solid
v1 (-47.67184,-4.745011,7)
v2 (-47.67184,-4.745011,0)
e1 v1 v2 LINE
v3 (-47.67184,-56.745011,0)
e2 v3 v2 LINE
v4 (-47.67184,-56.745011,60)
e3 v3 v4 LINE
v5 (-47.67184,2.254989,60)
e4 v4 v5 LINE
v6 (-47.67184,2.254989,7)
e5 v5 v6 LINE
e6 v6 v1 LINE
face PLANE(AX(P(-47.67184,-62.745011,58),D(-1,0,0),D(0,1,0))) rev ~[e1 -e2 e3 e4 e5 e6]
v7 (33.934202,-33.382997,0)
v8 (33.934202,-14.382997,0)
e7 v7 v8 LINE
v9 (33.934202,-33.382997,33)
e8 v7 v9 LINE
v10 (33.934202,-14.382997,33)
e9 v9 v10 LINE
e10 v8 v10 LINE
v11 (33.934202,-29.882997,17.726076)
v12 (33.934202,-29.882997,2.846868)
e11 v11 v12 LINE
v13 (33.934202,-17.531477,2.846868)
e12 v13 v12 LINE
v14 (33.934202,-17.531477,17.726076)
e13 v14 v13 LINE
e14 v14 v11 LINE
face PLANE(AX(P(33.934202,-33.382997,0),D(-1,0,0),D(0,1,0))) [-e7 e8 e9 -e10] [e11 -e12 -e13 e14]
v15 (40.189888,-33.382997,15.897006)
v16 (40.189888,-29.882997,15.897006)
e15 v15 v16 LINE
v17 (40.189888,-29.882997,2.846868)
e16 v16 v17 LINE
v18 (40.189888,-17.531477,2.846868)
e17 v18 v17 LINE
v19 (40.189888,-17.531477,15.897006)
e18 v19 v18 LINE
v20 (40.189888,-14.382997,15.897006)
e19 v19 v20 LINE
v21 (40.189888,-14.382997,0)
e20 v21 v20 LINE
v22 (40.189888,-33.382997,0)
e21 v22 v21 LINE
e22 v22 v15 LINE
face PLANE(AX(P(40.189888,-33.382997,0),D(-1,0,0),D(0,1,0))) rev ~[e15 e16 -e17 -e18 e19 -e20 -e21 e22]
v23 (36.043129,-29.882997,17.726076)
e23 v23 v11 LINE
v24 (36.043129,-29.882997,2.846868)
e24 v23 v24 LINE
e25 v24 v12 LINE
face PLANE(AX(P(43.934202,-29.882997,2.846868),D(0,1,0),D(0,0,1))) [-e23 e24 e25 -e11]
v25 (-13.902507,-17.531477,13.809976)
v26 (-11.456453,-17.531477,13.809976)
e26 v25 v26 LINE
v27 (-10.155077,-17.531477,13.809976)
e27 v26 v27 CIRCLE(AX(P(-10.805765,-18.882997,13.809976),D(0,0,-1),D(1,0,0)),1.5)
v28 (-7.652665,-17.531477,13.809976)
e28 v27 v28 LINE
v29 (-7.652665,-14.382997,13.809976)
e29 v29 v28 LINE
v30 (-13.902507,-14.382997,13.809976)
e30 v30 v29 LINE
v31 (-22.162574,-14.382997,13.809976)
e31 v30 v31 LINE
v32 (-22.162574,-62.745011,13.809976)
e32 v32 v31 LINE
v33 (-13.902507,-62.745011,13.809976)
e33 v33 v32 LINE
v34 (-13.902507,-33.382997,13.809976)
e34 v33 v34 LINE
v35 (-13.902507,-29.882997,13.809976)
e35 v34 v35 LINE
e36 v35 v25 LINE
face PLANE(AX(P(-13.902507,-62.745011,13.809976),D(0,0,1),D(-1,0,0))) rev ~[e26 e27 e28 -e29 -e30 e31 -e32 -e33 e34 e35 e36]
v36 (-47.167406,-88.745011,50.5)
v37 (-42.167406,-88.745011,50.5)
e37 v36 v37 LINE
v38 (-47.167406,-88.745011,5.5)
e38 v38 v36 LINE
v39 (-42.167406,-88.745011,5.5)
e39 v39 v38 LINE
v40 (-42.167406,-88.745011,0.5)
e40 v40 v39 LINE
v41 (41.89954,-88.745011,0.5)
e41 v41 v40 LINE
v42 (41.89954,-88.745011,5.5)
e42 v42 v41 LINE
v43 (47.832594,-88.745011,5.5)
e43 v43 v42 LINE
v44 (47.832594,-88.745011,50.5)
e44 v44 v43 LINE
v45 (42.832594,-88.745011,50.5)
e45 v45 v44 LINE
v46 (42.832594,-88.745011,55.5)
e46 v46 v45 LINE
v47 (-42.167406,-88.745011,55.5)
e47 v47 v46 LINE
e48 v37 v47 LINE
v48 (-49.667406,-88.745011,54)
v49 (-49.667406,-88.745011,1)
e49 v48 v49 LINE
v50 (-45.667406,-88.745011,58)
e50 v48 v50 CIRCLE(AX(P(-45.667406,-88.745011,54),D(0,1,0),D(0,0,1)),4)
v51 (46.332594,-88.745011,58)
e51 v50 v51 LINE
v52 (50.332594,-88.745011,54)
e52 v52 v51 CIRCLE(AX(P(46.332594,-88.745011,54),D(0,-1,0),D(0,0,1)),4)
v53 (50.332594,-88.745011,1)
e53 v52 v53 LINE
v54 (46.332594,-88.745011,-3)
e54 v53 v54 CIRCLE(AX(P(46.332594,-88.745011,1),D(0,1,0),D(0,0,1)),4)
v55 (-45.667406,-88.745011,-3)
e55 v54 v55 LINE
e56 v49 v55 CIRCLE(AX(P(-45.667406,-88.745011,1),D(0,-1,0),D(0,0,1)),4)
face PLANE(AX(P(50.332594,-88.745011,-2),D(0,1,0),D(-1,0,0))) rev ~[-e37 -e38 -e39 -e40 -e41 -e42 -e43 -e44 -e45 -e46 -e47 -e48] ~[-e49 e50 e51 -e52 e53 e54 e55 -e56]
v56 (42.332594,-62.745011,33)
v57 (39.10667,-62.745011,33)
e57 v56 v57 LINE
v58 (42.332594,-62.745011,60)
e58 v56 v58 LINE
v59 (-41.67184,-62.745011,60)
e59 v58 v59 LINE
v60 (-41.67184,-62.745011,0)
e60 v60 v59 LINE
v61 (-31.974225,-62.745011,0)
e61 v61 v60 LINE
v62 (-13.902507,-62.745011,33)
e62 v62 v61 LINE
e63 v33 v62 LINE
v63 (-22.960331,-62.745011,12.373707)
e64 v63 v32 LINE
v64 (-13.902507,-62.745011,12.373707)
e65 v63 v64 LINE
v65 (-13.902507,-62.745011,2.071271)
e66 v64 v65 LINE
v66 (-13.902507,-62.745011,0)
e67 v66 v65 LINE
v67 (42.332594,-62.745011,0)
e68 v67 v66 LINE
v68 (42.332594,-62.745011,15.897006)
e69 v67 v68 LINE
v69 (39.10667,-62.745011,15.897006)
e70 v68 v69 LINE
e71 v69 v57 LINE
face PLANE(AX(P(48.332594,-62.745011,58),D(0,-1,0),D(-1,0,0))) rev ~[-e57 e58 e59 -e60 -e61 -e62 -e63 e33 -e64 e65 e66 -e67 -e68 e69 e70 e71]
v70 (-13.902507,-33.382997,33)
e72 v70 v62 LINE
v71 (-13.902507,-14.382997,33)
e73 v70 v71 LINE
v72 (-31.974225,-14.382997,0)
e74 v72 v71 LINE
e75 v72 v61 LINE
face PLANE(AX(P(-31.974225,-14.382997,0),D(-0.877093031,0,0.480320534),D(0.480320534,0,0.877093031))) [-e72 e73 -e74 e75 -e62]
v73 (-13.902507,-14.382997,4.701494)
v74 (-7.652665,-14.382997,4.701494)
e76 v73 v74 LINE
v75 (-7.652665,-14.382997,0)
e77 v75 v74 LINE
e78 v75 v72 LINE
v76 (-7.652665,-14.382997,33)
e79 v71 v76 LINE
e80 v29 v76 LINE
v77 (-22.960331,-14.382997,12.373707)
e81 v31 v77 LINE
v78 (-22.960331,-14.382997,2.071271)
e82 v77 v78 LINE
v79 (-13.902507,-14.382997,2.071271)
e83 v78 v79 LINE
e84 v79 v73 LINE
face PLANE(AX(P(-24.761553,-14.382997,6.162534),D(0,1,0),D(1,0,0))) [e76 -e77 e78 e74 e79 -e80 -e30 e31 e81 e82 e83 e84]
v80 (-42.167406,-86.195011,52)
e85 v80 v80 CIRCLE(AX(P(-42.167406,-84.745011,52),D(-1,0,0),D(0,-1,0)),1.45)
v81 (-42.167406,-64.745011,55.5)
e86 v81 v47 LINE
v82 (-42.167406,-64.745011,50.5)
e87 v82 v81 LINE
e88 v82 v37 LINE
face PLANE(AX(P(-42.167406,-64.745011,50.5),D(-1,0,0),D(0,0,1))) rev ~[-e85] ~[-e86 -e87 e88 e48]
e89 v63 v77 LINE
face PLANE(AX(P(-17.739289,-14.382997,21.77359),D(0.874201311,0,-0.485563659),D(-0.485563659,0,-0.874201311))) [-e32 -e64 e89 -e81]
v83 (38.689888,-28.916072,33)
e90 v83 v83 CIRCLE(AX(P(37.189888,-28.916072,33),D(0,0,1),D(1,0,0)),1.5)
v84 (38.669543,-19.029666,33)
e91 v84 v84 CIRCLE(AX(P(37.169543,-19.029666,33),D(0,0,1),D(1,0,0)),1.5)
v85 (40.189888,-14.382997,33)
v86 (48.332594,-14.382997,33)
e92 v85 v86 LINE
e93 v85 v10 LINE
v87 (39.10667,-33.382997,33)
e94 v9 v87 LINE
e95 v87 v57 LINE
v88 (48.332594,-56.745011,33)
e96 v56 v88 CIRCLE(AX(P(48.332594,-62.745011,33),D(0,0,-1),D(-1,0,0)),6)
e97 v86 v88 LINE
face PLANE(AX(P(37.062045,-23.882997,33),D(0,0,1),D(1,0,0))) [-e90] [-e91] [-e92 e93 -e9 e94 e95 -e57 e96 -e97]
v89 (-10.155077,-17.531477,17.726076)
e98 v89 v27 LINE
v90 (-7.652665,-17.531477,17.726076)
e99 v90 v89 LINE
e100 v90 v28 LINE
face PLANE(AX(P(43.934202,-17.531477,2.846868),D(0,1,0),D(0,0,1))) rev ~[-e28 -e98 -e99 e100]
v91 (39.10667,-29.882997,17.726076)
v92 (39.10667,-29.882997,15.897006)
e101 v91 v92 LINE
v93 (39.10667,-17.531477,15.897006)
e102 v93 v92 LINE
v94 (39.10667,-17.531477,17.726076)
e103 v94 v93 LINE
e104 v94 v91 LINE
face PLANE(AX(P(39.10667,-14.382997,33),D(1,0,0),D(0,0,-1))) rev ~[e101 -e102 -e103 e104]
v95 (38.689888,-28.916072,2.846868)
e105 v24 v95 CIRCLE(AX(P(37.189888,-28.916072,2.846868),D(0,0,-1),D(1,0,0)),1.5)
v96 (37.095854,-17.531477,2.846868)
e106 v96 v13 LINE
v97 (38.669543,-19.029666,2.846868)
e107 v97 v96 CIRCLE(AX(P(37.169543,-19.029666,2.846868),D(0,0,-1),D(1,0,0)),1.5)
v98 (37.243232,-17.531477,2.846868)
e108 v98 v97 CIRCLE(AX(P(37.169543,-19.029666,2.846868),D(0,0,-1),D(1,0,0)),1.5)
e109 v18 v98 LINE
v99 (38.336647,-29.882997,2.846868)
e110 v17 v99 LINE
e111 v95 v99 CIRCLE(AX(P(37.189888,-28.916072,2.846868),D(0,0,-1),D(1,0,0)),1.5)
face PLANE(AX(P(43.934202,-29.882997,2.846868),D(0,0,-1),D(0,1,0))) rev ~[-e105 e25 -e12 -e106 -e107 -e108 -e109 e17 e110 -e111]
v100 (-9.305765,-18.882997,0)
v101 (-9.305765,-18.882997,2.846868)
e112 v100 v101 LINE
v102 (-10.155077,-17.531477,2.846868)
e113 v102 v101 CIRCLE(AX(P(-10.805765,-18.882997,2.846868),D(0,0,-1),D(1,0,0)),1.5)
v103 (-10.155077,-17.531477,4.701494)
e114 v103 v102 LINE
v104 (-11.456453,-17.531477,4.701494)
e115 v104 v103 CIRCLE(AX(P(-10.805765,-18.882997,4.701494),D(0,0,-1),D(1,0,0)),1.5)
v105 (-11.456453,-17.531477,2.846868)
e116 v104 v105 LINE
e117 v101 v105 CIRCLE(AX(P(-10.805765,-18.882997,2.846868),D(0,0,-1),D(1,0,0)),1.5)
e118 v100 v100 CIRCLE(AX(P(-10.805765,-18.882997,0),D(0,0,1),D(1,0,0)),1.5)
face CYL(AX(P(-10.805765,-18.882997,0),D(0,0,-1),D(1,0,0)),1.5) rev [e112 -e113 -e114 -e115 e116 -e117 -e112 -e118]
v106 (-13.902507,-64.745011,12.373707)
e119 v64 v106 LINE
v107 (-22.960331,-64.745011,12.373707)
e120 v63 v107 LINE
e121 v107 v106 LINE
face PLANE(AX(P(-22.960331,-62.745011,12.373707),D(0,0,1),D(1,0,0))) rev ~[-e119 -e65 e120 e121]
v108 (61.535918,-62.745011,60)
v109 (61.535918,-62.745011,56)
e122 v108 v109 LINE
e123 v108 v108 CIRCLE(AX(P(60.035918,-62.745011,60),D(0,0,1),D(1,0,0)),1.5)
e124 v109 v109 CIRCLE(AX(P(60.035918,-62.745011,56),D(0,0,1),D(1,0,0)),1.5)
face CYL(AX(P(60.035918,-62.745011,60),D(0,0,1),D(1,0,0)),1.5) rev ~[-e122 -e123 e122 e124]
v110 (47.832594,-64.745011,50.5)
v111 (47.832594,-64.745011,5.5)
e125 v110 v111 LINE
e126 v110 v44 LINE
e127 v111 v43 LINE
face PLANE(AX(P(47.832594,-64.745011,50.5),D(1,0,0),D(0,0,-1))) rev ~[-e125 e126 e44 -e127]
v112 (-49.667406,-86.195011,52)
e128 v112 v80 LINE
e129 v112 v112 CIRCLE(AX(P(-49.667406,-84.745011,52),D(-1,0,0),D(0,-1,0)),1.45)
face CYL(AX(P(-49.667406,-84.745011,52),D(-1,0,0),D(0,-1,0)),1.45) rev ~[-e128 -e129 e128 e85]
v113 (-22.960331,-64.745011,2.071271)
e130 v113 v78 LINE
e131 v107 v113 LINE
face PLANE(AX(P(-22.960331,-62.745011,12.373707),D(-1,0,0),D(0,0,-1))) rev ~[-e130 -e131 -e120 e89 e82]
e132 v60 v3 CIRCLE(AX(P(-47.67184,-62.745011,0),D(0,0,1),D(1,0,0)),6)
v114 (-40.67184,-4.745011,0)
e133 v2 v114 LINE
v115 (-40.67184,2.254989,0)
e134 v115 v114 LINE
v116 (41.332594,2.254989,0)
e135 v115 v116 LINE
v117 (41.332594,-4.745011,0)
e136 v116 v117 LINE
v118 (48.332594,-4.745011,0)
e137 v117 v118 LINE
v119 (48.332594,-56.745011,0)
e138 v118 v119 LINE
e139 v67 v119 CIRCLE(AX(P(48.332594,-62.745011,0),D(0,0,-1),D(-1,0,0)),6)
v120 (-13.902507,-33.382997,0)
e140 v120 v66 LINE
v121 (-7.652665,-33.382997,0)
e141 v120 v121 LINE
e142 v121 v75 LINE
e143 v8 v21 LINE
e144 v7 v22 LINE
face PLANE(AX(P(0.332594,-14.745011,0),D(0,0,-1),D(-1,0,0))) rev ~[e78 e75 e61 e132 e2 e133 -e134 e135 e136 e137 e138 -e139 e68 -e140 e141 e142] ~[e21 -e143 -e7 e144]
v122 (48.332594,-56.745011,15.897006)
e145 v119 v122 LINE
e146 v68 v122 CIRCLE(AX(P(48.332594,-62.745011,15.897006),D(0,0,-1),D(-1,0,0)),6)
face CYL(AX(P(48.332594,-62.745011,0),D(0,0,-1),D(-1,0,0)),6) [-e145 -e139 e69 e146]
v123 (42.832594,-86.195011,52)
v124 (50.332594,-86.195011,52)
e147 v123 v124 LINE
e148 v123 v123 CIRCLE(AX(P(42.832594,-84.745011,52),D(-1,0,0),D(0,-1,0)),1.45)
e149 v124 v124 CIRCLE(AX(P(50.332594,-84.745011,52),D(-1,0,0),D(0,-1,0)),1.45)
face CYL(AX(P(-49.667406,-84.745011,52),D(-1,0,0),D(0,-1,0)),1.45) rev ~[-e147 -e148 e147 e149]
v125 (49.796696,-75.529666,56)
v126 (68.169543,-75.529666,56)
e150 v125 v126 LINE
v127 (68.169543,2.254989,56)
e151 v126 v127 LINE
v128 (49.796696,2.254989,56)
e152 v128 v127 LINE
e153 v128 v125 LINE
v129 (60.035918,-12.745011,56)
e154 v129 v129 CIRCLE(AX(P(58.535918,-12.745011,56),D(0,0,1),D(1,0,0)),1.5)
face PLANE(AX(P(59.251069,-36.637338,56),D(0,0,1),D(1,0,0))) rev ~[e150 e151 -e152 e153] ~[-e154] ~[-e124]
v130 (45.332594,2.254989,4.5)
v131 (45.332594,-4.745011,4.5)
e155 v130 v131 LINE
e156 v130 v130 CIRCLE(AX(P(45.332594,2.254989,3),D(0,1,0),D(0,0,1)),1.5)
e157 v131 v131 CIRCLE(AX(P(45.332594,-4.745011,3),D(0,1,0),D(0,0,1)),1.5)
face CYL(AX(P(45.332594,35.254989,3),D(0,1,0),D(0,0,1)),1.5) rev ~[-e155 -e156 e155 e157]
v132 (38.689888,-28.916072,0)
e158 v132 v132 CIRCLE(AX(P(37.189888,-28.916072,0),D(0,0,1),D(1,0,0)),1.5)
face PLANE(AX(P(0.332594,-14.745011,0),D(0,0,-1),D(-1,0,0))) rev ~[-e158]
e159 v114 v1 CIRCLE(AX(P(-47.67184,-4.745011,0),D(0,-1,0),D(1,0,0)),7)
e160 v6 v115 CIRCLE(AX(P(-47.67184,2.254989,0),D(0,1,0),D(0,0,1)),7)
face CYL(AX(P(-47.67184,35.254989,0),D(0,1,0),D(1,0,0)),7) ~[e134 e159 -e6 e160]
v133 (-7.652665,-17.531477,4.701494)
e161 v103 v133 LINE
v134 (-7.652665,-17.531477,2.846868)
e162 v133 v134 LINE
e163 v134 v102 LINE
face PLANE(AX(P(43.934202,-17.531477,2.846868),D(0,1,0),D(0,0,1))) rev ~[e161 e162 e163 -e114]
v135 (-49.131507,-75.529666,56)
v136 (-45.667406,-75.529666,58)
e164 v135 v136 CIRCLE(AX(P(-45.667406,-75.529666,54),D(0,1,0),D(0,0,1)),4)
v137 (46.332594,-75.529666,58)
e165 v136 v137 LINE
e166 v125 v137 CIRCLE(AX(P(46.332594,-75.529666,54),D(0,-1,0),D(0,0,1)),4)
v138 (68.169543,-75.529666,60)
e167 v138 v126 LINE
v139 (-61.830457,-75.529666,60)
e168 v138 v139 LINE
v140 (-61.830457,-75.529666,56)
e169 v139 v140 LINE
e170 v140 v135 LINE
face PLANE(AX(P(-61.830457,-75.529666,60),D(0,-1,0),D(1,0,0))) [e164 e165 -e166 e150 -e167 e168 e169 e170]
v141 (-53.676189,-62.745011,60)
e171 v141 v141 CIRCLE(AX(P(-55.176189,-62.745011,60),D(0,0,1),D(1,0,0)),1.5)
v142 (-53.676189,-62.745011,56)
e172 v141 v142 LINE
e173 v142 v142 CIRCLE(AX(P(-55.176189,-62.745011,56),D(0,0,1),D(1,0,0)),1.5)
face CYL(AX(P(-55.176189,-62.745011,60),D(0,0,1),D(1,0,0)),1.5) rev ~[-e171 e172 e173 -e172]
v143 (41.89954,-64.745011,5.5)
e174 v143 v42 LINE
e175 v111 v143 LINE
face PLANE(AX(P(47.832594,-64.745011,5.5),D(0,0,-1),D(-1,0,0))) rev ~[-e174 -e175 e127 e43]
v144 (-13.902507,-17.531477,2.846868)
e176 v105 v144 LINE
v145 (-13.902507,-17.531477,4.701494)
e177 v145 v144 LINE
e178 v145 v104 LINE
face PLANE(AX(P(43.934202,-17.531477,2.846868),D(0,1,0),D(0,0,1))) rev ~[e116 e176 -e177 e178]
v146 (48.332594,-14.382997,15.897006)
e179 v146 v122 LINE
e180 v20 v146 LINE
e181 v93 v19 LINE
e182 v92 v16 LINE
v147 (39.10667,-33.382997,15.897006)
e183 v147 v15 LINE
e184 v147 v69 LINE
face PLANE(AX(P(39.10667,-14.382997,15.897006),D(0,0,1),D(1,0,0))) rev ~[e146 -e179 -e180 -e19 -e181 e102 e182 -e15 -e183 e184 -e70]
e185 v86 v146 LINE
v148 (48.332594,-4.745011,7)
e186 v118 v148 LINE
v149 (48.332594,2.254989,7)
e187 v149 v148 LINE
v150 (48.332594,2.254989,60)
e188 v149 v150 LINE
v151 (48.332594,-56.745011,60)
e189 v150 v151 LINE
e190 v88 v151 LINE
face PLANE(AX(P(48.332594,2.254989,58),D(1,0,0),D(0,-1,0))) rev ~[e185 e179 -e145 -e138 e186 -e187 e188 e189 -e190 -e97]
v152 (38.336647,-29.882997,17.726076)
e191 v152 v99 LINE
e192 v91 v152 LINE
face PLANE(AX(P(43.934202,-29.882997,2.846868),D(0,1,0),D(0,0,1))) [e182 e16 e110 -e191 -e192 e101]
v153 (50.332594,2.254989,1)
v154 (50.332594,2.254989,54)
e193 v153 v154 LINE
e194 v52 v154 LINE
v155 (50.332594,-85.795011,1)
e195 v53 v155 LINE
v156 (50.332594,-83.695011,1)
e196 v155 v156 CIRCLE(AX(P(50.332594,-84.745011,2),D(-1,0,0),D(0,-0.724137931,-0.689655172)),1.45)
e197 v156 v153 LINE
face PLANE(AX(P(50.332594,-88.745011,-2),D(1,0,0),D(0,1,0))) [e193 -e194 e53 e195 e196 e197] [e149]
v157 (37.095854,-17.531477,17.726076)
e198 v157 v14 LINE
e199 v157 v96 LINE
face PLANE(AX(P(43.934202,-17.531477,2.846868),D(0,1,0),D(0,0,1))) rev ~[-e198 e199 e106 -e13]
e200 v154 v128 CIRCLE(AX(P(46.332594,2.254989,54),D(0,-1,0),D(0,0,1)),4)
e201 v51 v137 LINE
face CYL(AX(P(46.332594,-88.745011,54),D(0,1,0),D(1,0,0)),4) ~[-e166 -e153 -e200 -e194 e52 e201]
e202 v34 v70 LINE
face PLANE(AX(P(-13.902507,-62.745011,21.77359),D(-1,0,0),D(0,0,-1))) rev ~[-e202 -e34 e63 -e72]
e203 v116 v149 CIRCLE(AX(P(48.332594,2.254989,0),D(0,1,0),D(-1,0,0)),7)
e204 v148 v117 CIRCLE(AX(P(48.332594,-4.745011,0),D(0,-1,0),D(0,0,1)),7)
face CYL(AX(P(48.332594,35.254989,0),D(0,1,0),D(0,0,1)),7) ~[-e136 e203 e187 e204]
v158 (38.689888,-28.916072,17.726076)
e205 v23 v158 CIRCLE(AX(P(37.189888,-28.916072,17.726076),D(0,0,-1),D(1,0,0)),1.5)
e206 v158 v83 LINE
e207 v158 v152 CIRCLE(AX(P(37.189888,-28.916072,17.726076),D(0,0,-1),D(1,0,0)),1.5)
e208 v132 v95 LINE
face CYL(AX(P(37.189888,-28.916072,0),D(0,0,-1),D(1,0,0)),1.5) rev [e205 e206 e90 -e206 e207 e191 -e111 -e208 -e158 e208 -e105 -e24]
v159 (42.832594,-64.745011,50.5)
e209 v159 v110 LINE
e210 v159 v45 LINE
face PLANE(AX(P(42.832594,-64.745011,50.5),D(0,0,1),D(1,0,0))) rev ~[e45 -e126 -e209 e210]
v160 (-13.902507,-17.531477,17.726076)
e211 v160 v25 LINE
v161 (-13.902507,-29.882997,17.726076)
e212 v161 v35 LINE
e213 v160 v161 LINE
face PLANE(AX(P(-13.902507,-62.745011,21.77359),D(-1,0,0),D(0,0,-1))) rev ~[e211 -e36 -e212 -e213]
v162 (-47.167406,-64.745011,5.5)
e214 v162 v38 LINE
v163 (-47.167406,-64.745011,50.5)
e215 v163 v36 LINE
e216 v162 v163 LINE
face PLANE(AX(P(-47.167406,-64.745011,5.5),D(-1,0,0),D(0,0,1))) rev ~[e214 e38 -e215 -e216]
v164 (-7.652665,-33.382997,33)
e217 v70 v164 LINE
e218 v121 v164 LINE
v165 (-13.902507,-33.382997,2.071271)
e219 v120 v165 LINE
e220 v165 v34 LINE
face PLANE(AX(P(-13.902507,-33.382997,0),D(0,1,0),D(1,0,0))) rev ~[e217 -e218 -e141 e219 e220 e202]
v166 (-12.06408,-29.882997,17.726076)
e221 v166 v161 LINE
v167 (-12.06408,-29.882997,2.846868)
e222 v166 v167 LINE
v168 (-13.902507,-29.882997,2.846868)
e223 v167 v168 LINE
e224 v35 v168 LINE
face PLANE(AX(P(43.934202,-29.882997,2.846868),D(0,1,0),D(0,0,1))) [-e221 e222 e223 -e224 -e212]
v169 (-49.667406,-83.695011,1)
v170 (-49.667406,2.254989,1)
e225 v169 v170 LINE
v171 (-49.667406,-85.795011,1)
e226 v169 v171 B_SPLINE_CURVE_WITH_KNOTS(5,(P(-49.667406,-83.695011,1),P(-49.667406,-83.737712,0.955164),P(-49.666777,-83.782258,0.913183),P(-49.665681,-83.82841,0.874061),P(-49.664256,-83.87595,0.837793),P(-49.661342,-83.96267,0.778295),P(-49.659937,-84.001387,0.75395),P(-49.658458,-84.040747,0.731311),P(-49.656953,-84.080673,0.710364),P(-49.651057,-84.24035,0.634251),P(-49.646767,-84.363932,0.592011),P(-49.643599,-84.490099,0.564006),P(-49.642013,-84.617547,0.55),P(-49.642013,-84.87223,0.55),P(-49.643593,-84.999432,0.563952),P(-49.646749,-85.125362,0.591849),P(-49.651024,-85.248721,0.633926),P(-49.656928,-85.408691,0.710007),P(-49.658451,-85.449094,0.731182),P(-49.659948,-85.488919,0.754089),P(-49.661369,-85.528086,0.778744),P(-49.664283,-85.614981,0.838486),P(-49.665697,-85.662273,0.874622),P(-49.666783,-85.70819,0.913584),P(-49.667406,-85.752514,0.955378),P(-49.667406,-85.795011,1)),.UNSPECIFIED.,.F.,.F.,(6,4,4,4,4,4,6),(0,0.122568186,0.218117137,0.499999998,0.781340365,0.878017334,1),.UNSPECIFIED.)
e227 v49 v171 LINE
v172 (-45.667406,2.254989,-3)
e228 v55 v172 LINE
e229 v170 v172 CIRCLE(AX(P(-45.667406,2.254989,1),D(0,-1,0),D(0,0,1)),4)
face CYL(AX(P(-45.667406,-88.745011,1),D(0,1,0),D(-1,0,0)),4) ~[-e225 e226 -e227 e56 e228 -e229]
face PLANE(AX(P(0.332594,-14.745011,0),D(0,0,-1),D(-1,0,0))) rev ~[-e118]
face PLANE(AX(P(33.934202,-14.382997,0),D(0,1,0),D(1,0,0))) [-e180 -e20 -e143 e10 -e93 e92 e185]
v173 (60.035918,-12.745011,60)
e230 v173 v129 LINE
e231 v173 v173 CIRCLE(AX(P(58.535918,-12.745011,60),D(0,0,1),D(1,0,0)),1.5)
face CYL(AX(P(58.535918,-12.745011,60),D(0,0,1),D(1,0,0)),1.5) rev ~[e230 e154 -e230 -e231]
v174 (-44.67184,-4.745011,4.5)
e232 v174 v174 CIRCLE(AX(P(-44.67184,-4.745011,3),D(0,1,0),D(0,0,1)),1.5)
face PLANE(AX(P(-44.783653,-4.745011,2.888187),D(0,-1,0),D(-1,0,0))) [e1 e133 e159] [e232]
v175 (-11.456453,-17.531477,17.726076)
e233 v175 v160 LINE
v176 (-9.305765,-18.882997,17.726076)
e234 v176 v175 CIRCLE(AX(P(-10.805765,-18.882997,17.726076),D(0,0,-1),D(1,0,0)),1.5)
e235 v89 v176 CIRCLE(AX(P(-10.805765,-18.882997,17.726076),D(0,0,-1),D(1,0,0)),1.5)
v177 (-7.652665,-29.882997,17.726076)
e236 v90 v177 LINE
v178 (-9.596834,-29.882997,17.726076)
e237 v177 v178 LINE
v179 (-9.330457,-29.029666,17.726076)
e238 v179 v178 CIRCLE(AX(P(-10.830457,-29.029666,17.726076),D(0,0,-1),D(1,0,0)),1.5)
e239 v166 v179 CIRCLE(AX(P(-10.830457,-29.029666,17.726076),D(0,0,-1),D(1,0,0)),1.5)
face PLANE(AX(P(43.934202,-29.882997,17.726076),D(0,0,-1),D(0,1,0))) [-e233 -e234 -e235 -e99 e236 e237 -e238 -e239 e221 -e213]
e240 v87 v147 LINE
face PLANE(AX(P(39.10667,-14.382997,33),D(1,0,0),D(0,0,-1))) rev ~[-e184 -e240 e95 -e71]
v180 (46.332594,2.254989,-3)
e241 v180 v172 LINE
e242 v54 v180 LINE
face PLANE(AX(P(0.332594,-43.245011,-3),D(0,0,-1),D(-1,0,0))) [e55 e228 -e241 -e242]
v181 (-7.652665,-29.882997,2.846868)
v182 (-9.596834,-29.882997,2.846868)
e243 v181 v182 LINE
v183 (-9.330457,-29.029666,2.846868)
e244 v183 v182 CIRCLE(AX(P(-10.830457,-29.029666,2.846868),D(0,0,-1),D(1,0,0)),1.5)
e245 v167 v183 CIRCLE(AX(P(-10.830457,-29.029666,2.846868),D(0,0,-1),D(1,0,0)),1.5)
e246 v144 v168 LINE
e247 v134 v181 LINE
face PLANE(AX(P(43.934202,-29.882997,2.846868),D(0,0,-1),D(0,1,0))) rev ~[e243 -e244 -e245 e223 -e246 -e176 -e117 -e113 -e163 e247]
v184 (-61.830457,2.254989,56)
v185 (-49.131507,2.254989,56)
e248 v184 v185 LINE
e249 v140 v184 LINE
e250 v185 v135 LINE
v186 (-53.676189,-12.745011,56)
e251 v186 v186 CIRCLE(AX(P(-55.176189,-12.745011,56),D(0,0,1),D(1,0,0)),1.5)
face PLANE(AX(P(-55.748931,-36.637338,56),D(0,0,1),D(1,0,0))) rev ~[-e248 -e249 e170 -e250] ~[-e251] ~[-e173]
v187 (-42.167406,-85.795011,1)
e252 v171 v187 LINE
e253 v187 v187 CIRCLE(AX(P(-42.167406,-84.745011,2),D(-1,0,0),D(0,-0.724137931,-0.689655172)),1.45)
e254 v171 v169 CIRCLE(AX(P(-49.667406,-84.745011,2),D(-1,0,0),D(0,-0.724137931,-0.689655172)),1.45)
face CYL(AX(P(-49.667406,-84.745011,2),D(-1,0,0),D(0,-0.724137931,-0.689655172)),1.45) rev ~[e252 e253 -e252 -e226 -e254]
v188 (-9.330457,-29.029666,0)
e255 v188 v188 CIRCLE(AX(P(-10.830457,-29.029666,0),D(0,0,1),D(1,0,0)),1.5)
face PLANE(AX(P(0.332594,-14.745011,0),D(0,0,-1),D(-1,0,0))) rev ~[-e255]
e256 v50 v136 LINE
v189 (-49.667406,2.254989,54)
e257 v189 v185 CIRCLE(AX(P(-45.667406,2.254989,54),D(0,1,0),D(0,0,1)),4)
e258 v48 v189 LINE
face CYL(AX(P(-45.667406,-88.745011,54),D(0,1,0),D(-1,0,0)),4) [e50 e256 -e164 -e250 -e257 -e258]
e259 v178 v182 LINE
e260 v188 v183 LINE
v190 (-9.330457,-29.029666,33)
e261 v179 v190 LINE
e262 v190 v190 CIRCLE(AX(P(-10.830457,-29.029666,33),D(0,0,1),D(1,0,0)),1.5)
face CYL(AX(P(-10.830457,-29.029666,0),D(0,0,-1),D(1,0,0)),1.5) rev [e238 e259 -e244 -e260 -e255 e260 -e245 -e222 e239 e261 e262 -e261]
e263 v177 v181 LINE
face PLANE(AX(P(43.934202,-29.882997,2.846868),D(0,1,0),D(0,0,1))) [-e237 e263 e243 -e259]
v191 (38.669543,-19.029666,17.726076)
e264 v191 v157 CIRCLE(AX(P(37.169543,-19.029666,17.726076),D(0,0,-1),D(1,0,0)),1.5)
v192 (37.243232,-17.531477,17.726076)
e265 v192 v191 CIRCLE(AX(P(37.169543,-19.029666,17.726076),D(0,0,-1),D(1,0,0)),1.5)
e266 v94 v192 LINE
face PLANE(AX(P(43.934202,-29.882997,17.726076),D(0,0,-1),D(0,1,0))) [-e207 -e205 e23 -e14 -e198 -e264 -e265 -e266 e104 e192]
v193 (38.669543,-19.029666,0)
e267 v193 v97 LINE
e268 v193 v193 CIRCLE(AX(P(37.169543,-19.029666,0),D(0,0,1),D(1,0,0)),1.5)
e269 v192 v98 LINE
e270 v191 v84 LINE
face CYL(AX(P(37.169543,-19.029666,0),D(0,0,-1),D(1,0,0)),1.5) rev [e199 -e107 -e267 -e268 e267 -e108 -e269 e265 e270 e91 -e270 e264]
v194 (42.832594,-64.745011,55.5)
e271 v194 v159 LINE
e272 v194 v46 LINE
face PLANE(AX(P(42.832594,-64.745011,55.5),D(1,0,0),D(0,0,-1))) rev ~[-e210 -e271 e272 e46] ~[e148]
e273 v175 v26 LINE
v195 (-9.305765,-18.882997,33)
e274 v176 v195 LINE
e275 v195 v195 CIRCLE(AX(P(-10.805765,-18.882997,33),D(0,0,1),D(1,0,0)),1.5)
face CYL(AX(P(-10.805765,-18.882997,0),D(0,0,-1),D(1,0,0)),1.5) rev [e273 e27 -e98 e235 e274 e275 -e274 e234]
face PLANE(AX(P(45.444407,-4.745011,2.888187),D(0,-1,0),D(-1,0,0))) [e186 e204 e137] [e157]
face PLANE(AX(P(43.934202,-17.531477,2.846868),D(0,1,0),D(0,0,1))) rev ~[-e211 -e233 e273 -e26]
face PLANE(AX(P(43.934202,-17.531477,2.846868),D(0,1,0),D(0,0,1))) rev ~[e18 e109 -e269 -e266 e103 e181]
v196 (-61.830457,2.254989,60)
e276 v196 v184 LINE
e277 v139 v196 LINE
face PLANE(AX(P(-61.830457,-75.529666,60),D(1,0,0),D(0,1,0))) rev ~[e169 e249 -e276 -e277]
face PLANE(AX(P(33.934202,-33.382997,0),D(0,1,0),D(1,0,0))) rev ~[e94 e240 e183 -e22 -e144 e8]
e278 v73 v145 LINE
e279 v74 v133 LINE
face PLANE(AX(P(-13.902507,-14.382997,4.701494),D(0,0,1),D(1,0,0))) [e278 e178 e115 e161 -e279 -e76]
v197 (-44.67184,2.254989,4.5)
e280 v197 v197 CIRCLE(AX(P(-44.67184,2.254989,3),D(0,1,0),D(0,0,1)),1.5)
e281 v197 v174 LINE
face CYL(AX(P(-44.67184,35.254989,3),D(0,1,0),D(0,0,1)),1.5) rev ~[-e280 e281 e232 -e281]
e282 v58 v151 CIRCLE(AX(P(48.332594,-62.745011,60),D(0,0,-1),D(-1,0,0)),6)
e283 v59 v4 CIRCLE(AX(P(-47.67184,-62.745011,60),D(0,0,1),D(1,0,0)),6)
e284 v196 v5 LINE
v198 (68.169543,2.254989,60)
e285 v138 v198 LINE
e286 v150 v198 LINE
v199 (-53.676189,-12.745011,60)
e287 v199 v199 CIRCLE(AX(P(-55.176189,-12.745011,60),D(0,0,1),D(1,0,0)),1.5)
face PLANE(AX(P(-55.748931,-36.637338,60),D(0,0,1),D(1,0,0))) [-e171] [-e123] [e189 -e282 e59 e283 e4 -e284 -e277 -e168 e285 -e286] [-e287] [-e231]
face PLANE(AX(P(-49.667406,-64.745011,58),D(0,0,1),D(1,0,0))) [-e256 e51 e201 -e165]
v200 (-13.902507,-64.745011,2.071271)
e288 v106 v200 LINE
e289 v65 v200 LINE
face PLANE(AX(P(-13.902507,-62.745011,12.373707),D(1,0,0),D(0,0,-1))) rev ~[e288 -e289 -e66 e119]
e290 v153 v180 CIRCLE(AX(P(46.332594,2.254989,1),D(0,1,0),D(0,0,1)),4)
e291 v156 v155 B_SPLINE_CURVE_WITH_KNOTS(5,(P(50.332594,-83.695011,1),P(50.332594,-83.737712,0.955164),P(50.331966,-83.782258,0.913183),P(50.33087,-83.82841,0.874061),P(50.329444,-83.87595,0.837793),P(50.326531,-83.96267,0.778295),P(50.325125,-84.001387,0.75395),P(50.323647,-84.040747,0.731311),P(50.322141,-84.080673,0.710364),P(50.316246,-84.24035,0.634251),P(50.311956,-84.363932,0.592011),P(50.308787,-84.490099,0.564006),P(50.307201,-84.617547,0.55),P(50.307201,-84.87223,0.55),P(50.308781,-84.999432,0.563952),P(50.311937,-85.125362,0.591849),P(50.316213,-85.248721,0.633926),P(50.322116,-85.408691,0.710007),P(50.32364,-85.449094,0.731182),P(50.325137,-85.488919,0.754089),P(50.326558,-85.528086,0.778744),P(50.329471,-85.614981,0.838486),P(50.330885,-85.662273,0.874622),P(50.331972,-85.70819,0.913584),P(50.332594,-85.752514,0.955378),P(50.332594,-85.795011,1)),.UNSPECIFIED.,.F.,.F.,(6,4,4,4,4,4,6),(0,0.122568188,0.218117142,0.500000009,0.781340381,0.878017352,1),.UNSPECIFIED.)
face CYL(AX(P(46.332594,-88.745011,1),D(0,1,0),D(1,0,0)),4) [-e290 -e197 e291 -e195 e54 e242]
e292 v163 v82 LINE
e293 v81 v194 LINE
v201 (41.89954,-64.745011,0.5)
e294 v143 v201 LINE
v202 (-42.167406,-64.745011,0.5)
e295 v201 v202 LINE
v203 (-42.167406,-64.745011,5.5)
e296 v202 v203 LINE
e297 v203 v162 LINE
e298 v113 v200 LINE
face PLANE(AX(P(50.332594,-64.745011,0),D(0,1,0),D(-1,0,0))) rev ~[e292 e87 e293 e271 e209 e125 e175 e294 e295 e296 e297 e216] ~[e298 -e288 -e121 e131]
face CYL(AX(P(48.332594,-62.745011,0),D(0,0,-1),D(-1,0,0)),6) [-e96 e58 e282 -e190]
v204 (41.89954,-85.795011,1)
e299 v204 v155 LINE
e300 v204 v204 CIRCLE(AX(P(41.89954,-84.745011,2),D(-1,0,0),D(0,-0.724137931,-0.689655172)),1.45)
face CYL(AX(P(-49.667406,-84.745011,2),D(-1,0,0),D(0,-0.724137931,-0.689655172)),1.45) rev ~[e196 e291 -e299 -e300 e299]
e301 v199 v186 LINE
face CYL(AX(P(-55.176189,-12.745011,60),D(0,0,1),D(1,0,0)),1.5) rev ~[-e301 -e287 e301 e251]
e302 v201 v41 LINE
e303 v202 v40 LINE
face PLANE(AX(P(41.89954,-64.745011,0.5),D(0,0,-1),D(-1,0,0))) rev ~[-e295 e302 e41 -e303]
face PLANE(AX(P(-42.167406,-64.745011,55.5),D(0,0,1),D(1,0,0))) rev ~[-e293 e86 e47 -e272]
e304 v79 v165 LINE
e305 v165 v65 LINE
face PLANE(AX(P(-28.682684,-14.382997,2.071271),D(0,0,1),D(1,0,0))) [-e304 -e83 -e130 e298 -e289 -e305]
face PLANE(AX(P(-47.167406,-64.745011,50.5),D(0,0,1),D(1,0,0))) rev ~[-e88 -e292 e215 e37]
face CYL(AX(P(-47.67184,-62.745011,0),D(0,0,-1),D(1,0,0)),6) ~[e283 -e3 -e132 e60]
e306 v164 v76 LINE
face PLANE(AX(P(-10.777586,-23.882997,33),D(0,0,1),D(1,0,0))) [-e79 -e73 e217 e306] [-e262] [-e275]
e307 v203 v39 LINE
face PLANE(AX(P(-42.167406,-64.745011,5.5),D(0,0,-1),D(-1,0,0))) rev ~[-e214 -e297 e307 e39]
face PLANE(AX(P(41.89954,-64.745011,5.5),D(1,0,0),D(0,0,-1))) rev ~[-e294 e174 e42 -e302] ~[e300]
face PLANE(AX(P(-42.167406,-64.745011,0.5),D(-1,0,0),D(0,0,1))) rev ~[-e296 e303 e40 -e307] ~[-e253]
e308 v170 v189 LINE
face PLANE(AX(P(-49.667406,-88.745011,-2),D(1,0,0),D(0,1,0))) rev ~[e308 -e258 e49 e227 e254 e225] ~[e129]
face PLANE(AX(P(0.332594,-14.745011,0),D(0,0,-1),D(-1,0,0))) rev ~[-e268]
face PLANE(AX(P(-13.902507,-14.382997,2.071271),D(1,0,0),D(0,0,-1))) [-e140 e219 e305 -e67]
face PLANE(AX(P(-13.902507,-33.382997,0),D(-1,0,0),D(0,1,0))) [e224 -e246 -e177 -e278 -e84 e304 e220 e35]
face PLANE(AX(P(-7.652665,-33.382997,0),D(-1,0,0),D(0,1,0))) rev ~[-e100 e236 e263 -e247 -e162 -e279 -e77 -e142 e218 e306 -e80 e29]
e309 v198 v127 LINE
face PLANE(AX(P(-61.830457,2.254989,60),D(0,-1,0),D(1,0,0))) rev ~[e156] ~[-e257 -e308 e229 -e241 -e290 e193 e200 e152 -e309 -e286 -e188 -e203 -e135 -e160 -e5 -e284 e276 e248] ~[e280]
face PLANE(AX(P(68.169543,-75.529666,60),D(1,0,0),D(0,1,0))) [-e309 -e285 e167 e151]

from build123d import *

# Parameters (mm, degrees)
BOSS_EXTRUDE1_DEPTH     = 70
SKETCH2_W               = 100
SKETCH2_H               = 100
BOSS_EXTRUDE2_DEPTH     = 2
SKETCH3_W               = 6.255686465
SKETCH3_H               = 19
SKETCH3_R               = 1.5
SKETCH3_W_2             = 6.249842205
BOSS_EXTRUDE4_DEPTH     = 33
CUT_EXTRUDE2_DEPTH      = 49
CUT_EXTRUDE2_DEPTH_BACK = 10
SKETCH4_W               = 14.879207683
SKETCH4_H               = 12.351519759
SKETCH5_W               = 96.00443459
SKETCH5_H               = 43.693152777
BOSS_EXTRUDE5_DEPTH     = 2
SKETCH9_W               = 100
SKETCH9_H               = 100
CUT_EXTRUDE3_DEPTH      = 42
SKETCH8_R               = 1.5
BOSS_EXTRUDE7_DEPTH     = 40
CUT_EXTRUDE5_DEPTH      = 3
CUT_EXTRUDE8_DEPTH      = 30
BOSS_EXTRUDE13_DEPTH    = 49
SKETCH22_W              = 9.057824242
SKETCH22_H              = 10.302435688
CUT_EXTRUDE9_DEPTH      = 49
SKETCH23_W              = 6.249842205
SKETCH23_H              = 9.108482359
CUT_EXTRUDE10_DEPTH     = 6
SKETCH24_W              = 100
SKETCH24_H              = 60
BOSS_EXTRUDE14_DEPTH    = 24
BOSS_EXTRUDE15_DEPTH    = 10
SKETCH26_W              = 12.16305128
SKETCH26_H              = 77.784654704
SKETCH26_R              = 1.5
SKETCH26_W_2            = 17.83694872
BOSS_EXTRUDE16_DEPTH    = 7
SKETCH27_W              = 100
SKETCH27_H              = 91
BOSS_EXTRUDE17_DEPTH    = 1
SKETCH26_3_W            = 12.16305128
SKETCH26_3_H            = 77.784654704
SKETCH26_3_R            = 1.5
SKETCH26_3_W_2          = 17.83694872
CUT_EXTRUDE11_DEPTH     = 8
BOSS_EXTRUDE18_DEPTH    = 48.362014423
BOSS_EXTRUDE19_REACH    = 109.996
SKETCH32_W              = 9.225924477
SKETCH32_H              = 17.102993801
BOSS_EXTRUDE20_DEPTH    = 60
SKETCH34_W              = 12.16305128
SKETCH34_H              = 77.784654704
SKETCH34_R              = 1.5
SKETCH34_W_2            = 17.83694872
BOSS_EXTRUDE21_DEPTH    = 4
FILLET1_R               = 4
SKETCH38_R              = 1.45
CUT_EXTRUDE32_DEPTH     = 127


with BuildPart() as part:
    # Sketch1 → Boss-Extrude1 (new body)
    with BuildSketch(Plane.XY):
        Polygon((-47.671840355, 33.254988914), (-47.671840355, 35.254988914), (-49.667405765, 35.254988914), (-49.667405765, -64.745011086), (50.332594235, -64.745011086), (50.332594235, 35.254988914), (48.332594235, 35.254988914), (48.332594235, 33.254988914), (48.332594235, -62.745011086), (-47.671840355, -62.745011086), align=None)
    extrude(amount=BOSS_EXTRUDE1_DEPTH)

    # Sketch2 → Boss-Extrude2 (add)
    with BuildSketch(Plane(origin=(0, 0, 0), x_dir=(-1, 0, 0), z_dir=(0, 0, -1))):
        with Locations((-0.332594235, -14.745011086)):
            Rectangle(SKETCH2_W, SKETCH2_H)
    extrude(amount=BOSS_EXTRUDE2_DEPTH)

    # Sketch3 → Boss-Extrude4 (add)
    # profile 1 of 2: a face of its own
    with BuildSketch(Plane.XY):
        with Locations((37.062045054, -23.882996664)):
            Rectangle(SKETCH3_W, SKETCH3_H)
        with Locations((37.169542955, -19.02966579)):
            Circle(SKETCH3_R, mode=Mode.SUBTRACT)
        with Locations((37.189888286, -28.916071788)):
            Circle(SKETCH3_R, mode=Mode.SUBTRACT)
    # profile 2 of 2: a face of its own
    with BuildSketch(Plane.XY):
        with Locations((-10.777585785, -23.882996664)):
            Rectangle(SKETCH3_W_2, SKETCH3_H)
        with Locations((-10.805764952, -18.882996664)):
            Circle(SKETCH3_R, mode=Mode.SUBTRACT)
        with Locations((-10.830457045, -29.02966579)):
            Circle(SKETCH3_R, mode=Mode.SUBTRACT)
    extrude(amount=BOSS_EXTRUDE4_DEPTH)

    # Sketch4 → Cut-Extrude2 (cut, two sides: drawn at the far end of the back side and taken through both)
    with BuildSketch(Plane.ZY.offset(-33.934201821).offset(-CUT_EXTRUDE2_DEPTH_BACK)):
        with Locations((10.28647213, -23.707236785)):
            Rectangle(SKETCH4_W, SKETCH4_H)
    extrude(amount=CUT_EXTRUDE2_DEPTH + CUT_EXTRUDE2_DEPTH_BACK, mode=Mode.SUBTRACT)

    # Sketch5 → Boss-Extrude5 (add)
    with BuildSketch(Plane.XY.offset(70)):
        with Locations((0.33037694, -40.898434698)):
            Rectangle(SKETCH5_W, SKETCH5_H)
    extrude(amount=-BOSS_EXTRUDE5_DEPTH)

    # Sketch9 → Cut-Extrude3 (cut)
    with BuildSketch(Plane(origin=(0, 0, 58), x_dir=(-1, 0, 0), z_dir=(0, 0, -1))):
        with Locations((-0.332594235, -14.745011086)):
            Rectangle(SKETCH9_W, SKETCH9_H)
    extrude(amount=-CUT_EXTRUDE3_DEPTH, mode=Mode.SUBTRACT)

    # Sketch8 → Boss-Extrude7 (add)
    # profile 1 of 2: a face of its own
    with BuildSketch(Plane(origin=(0, 35.254988914, 0), x_dir=(1, 0, 0), z_dir=(0, 1, 0))):
        with BuildLine():
            Line((-47.671840355, 0), (-40.671840355, 0))
            ThreePointArc((-40.671840355, 0), (-42.722092886, -4.949747468), (-47.671840355, -7))
            Line((-47.671840355, -7), (-47.671840355, 0))
        make_face()
        with Locations(Location((-44.671840355, -3, 0), (0, 0, 270))):
            Circle(SKETCH8_R, mode=Mode.SUBTRACT)
    # profile 2 of 2: a face of its own
    with BuildSketch(Plane(origin=(0, 35.254988914, 0), x_dir=(1, 0, 0), z_dir=(0, 1, 0))):
        with BuildLine():
            Line((48.332594235, 0), (48.332594235, -7))
            ThreePointArc((48.332594235, -7), (43.382846767, -4.949747468), (41.332594235, 0))
            Line((41.332594235, 0), (48.332594235, 0))
        make_face()
        with Locations(Location((45.332594235, -3, 0), (0, 0, 270))):
            Circle(SKETCH8_R, mode=Mode.SUBTRACT)
    extrude(amount=-BOSS_EXTRUDE7_DEPTH)

    # Sketch15 → Cut-Extrude5 (cut)
    with BuildSketch(Plane(origin=(0, 35.254988914, 0), x_dir=(1, 0, 0), z_dir=(0, 1, 0))):
        with BuildLine():
            Line((-47.671840355, -58), (-47.671840355, -7))
            ThreePointArc((-47.671840355, -7), (-42.722092886, -4.949747468), (-40.671840355, 0))
            Line((-40.671840355, 0), (41.332594235, 0))
            ThreePointArc((41.332594235, 0), (43.382846767, -4.949747468), (48.332594235, -7))
            Line((48.332594235, -7), (48.332594235, -58))
            Line((48.332594235, -58), (50.332594235, -58))
            Line((50.332594235, -58), (50.332594235, 2))
            Line((50.332594235, 2), (-49.667405765, 2))
            Line((-49.667405765, 2), (-49.667405765, -58))
            Line((-49.667405765, -58), (-47.671840355, -58))
        make_face()
    extrude(amount=-CUT_EXTRUDE5_DEPTH, mode=Mode.SUBTRACT)

    # Sketch17 → Cut-Extrude8 (cut)
    with BuildSketch(Plane(origin=(0, 32.254988914, 0), x_dir=(1, 0, 0), z_dir=(0, 1, 0))):
        with BuildLine():
            Line((-49.667405765, -58), (-47.671840355, -58))
            Line((-47.671840355, -58), (-47.671840355, -7))
            ThreePointArc((-47.671840355, -7), (-42.722092886, -4.949747468), (-40.671840355, 0))
            Line((-40.671840355, 0), (41.332594235, 0))
            ThreePointArc((41.332594235, 0), (43.382846767, -4.949747468), (48.332594235, -7))
            Line((48.332594235, -7), (48.332594235, -58))
            Line((48.332594235, -58), (50.332594235, -58))
            Line((50.332594235, -58), (50.332594235, 2))
            Line((50.332594235, 2), (-49.667405765, 2))
            Line((-49.667405765, 2), (-49.667405765, -58))
        make_face()
    extrude(amount=-CUT_EXTRUDE8_DEPTH, mode=Mode.SUBTRACT)

    # Sketch20 → Boss-Extrude13 (add)
    with BuildSketch(Plane(origin=(0, -14.382996664, 0), x_dir=(1, 0, 0), z_dir=(0, 1, 0))):
        Polygon((-31.974224554, 0), (-13.902506887, -33), (-13.902506887, -21.773589894), (-17.739289379, -21.773589894), (-28.682683987, -2.071271291), (-16.311001374, -2.071271291), (-13.902506887, -2.071271291), (-13.902506887, 0), align=None)
    extrude(amount=-BOSS_EXTRUDE13_DEPTH)

    # Sketch22 → Cut-Extrude9 (cut)
    with BuildSketch(Plane(origin=(0, -62.745011086, 0), x_dir=(1, 0, 0), z_dir=(0, 1, 0))):
        with Locations((-18.431419008, -7.222489135)):
            Rectangle(SKETCH22_W, SKETCH22_H)
    extrude(amount=-CUT_EXTRUDE9_DEPTH, mode=Mode.SUBTRACT)

    # Sketch23 → Cut-Extrude10 (cut)
    with BuildSketch(Plane(origin=(0, -14.382996664, 0), x_dir=(1, 0, 0), z_dir=(0, 1, 0))):
        with Locations((-10.777585785, -9.255735205)):
            Rectangle(SKETCH23_W, SKETCH23_H)
    extrude(amount=-CUT_EXTRUDE10_DEPTH, mode=Mode.SUBTRACT)

    # Sketch24 → Boss-Extrude14 (add)
    with BuildSketch(Plane.XZ.offset(64.745011086)):
        with Locations((0.332594235, 28)):
            Rectangle(SKETCH24_W, SKETCH24_H)
        Polygon((-42.167405765, 55.5), (42.832594235, 55.5), (42.832594235, 50.5), (47.832594235, 50.5), (47.832594235, 5.5), (41.89954029, 5.5), (41.89954029, 0.5), (-42.167405765, 0.5), (-42.167405765, 5.5), (-47.167405765, 5.5), (-47.167405765, 50.5), (-42.167405765, 50.5), align=None, mode=Mode.SUBTRACT)
    extrude(amount=BOSS_EXTRUDE14_DEPTH)

    # Sketch25 → Boss-Extrude15 (add)
    with BuildSketch(Plane.XY.offset(58)):
        Polygon((-49.667405765, -75.52966579), (50.332594235, -75.52966579), (50.332594235, 2.254988914), (48.332594235, 2.254988914), (48.332594235, -62.745011086), (-47.671840355, -62.745011086), (-47.671840355, 2.254988914), (-49.667405765, 2.254988914), align=None)
    extrude(amount=BOSS_EXTRUDE15_DEPTH)

    # Sketch26 → Boss-Extrude16 (add)
    # profile 1 of 2: a face of its own
    with BuildSketch(Plane.XY.offset(68)):
        with Locations((-55.748931405, -36.637338438)):
            Rectangle(SKETCH26_W, SKETCH26_H)
        with Locations((-55.064132406, -60.52966579)):
            Circle(SKETCH26_R, mode=Mode.SUBTRACT)
        with Locations((-55.064132406, -10.52966579)):
            Circle(SKETCH26_R, mode=Mode.SUBTRACT)
    # profile 2 of 2: a face of its own
    with BuildSketch(Plane.XY.offset(68)):
        with Locations((59.251068595, -36.637338438)):
            Rectangle(SKETCH26_W_2, SKETCH26_H)
        with Locations((58.061257032, -60.52966579)):
            Circle(SKETCH26_R, mode=Mode.SUBTRACT)
        with Locations((58.061257032, -10.52966579)):
            Circle(SKETCH26_R, mode=Mode.SUBTRACT)
    extrude(amount=-BOSS_EXTRUDE16_DEPTH)

    # Sketch27 → Boss-Extrude17 (add)
    with BuildSketch(Plane(origin=(0, 0, -2), x_dir=(-1, 0, 0), z_dir=(0, 0, -1))):
        with Locations((-0.332594235, -43.245011086)):
            Rectangle(SKETCH27_W, SKETCH27_H)
    extrude(amount=BOSS_EXTRUDE17_DEPTH)

    # Sketch26<3> → Cut-Extrude11 (cut)
    # profile 1 of 3: a face of its own
    with BuildSketch(Plane.XY.offset(68)):
        with Locations((-55.748931405, -36.637338438)):
            Rectangle(SKETCH26_3_W, SKETCH26_3_H)
        with Locations((-55.064132406, -60.52966579)):
            Circle(SKETCH26_3_R, mode=Mode.SUBTRACT)
        with Locations((-55.064132406, -10.52966579)):
            Circle(SKETCH26_3_R, mode=Mode.SUBTRACT)
    # profile 2 of 3: a face of its own
    with BuildSketch(Plane.XY.offset(68)):
        with Locations((59.251068595, -36.637338438)):
            Rectangle(SKETCH26_3_W_2, SKETCH26_3_H)
        with Locations((58.061257032, -60.52966579)):
            Circle(SKETCH26_3_R, mode=Mode.SUBTRACT)
        with Locations((58.061257032, -10.52966579)):
            Circle(SKETCH26_3_R, mode=Mode.SUBTRACT)
    # profile 3 of 3: a face of its own
    with BuildSketch(Plane.XY.offset(68)):
        Polygon((50.332594235, -75.52966579), (50.332594235, 2.254988914), (48.332594235, 2.254988914), (48.332594235, -62.745011086), (-47.671840355, -62.745011086), (-47.671840355, 2.254988914), (-49.667405765, 2.254988914), (-49.667405765, -75.52966579), align=None)
    extrude(amount=-CUT_EXTRUDE11_DEPTH, mode=Mode.SUBTRACT)

    # Sketch28 → Boss-Extrude18 (add)
    with BuildSketch(Plane(origin=(0, -62.745011086, 0), x_dir=(1, 0, 0), z_dir=(0, 1, 0))):
        Polygon((-28.682683987, -2.071271291), (-22.960331129, -12.373706979), (-22.960331129, -2.071271291), align=None)
        Polygon((-13.902506887, -21.773589894), (-13.902506887, -13.809976384), (-22.162574115, -13.809976384), (-17.739289379, -21.773589894), align=None)
    extrude(amount=BOSS_EXTRUDE18_DEPTH)

    # Boss-Extrude19: up to this face of the body (flat: up to its plane)
    boss_extrude19_end = Plane(part.part.faces().sort_by_distance((1.391538042, -62.745011086, 30.9964467))[0])
    # Sketch32 → Boss-Extrude19 (add, up to the picked face)
    with BuildSketch(Plane(origin=(0, -14.382996664, 0), x_dir=(1, 0, 0), z_dir=(0, 1, 0)), mode=Mode.PRIVATE) as boss_extrude19_sk1:
        with Locations((43.719631996, -24.4485031)):
            Rectangle(SKETCH32_W, SKETCH32_H)
    boss_extrude19_tool1 = split(extrude(boss_extrude19_sk1.sketch, amount=-BOSS_EXTRUDE19_REACH, mode=Mode.PRIVATE), bisect_by=boss_extrude19_end, keep=Keep.BOTH, mode=Mode.PRIVATE)
    add(boss_extrude19_tool1.solids().sort_by(Axis((43.719632, -14.382997, 24.448503), (0, -1, 0)))[0])

    # Sketch33 → Boss-Extrude20 (add)
    with BuildSketch(Plane.XY):
        with BuildLine():
            Line((-47.671840355, -62.745011086), (-41.671840355, -62.745011086))
            ThreePointArc((-41.671840355, -62.745011086), (-43.429199668, -58.502370399), (-47.671840355, -56.745011086))
            Line((-47.671840355, -56.745011086), (-47.671840355, -62.745011086))
        make_face()
        with BuildLine():
            Line((48.332594235, -62.745011086), (42.332594235, -62.745011086))
            ThreePointArc((42.332594235, -62.745011086), (44.089953548, -58.502370399), (48.332594235, -56.745011086))
            Line((48.332594235, -56.745011086), (48.332594235, -62.745011086))
        make_face()
    extrude(amount=BOSS_EXTRUDE20_DEPTH)

    # Sketch34 → Boss-Extrude21 (add)
    # profile 1 of 2: a face of its own
    with BuildSketch(Plane.XY.offset(60)):
        with Locations((-55.748931405, -36.637338438)):
            Rectangle(SKETCH34_W, SKETCH34_H)
        with Locations((-55.176188723, -62.745011086)):
            Circle(SKETCH34_R, mode=Mode.SUBTRACT)
        with Locations((-55.176188723, -12.745011086)):
            Circle(SKETCH34_R, mode=Mode.SUBTRACT)
    # profile 2 of 2: a face of its own
    with BuildSketch(Plane.XY.offset(60)):
        with Locations((59.251068595, -36.637338438)):
            Rectangle(SKETCH34_W_2, SKETCH34_H)
        with Locations((60.035918121, -62.745011086)):
            Circle(SKETCH34_R, mode=Mode.SUBTRACT)
        with Locations((58.535918121, -12.745011086)):
            Circle(SKETCH34_R, mode=Mode.SUBTRACT)
    extrude(amount=-BOSS_EXTRUDE21_DEPTH)

    # Fillet1
    fillet1_edges = [part.edges().sort_by_distance(p)[0] for p in [
        (-49.667405765, -82.137338438, 58),
        (50.332594235, -82.137338438, 58),
        (50.332594235, -43.245011086, -3),
        (-49.667405765, -43.245011086, -3),
    ]]
    fillet(fillet1_edges, radius=FILLET1_R)

    # Sketch38 → Cut-Extrude32 (cut)
    with BuildSketch(Plane.ZY.offset(49.667405765)):
        with Locations(Location((2, -84.745011086, 0), (0, 0, 226.397181027))):
            Circle(SKETCH38_R)
        with Locations(Location((52, -84.745011086, 0), (0, 0, 270))):
            Circle(SKETCH38_R)
    extrude(amount=-CUT_EXTRUDE32_DEPTH, mode=Mode.SUBTRACT)


solid = part.part
